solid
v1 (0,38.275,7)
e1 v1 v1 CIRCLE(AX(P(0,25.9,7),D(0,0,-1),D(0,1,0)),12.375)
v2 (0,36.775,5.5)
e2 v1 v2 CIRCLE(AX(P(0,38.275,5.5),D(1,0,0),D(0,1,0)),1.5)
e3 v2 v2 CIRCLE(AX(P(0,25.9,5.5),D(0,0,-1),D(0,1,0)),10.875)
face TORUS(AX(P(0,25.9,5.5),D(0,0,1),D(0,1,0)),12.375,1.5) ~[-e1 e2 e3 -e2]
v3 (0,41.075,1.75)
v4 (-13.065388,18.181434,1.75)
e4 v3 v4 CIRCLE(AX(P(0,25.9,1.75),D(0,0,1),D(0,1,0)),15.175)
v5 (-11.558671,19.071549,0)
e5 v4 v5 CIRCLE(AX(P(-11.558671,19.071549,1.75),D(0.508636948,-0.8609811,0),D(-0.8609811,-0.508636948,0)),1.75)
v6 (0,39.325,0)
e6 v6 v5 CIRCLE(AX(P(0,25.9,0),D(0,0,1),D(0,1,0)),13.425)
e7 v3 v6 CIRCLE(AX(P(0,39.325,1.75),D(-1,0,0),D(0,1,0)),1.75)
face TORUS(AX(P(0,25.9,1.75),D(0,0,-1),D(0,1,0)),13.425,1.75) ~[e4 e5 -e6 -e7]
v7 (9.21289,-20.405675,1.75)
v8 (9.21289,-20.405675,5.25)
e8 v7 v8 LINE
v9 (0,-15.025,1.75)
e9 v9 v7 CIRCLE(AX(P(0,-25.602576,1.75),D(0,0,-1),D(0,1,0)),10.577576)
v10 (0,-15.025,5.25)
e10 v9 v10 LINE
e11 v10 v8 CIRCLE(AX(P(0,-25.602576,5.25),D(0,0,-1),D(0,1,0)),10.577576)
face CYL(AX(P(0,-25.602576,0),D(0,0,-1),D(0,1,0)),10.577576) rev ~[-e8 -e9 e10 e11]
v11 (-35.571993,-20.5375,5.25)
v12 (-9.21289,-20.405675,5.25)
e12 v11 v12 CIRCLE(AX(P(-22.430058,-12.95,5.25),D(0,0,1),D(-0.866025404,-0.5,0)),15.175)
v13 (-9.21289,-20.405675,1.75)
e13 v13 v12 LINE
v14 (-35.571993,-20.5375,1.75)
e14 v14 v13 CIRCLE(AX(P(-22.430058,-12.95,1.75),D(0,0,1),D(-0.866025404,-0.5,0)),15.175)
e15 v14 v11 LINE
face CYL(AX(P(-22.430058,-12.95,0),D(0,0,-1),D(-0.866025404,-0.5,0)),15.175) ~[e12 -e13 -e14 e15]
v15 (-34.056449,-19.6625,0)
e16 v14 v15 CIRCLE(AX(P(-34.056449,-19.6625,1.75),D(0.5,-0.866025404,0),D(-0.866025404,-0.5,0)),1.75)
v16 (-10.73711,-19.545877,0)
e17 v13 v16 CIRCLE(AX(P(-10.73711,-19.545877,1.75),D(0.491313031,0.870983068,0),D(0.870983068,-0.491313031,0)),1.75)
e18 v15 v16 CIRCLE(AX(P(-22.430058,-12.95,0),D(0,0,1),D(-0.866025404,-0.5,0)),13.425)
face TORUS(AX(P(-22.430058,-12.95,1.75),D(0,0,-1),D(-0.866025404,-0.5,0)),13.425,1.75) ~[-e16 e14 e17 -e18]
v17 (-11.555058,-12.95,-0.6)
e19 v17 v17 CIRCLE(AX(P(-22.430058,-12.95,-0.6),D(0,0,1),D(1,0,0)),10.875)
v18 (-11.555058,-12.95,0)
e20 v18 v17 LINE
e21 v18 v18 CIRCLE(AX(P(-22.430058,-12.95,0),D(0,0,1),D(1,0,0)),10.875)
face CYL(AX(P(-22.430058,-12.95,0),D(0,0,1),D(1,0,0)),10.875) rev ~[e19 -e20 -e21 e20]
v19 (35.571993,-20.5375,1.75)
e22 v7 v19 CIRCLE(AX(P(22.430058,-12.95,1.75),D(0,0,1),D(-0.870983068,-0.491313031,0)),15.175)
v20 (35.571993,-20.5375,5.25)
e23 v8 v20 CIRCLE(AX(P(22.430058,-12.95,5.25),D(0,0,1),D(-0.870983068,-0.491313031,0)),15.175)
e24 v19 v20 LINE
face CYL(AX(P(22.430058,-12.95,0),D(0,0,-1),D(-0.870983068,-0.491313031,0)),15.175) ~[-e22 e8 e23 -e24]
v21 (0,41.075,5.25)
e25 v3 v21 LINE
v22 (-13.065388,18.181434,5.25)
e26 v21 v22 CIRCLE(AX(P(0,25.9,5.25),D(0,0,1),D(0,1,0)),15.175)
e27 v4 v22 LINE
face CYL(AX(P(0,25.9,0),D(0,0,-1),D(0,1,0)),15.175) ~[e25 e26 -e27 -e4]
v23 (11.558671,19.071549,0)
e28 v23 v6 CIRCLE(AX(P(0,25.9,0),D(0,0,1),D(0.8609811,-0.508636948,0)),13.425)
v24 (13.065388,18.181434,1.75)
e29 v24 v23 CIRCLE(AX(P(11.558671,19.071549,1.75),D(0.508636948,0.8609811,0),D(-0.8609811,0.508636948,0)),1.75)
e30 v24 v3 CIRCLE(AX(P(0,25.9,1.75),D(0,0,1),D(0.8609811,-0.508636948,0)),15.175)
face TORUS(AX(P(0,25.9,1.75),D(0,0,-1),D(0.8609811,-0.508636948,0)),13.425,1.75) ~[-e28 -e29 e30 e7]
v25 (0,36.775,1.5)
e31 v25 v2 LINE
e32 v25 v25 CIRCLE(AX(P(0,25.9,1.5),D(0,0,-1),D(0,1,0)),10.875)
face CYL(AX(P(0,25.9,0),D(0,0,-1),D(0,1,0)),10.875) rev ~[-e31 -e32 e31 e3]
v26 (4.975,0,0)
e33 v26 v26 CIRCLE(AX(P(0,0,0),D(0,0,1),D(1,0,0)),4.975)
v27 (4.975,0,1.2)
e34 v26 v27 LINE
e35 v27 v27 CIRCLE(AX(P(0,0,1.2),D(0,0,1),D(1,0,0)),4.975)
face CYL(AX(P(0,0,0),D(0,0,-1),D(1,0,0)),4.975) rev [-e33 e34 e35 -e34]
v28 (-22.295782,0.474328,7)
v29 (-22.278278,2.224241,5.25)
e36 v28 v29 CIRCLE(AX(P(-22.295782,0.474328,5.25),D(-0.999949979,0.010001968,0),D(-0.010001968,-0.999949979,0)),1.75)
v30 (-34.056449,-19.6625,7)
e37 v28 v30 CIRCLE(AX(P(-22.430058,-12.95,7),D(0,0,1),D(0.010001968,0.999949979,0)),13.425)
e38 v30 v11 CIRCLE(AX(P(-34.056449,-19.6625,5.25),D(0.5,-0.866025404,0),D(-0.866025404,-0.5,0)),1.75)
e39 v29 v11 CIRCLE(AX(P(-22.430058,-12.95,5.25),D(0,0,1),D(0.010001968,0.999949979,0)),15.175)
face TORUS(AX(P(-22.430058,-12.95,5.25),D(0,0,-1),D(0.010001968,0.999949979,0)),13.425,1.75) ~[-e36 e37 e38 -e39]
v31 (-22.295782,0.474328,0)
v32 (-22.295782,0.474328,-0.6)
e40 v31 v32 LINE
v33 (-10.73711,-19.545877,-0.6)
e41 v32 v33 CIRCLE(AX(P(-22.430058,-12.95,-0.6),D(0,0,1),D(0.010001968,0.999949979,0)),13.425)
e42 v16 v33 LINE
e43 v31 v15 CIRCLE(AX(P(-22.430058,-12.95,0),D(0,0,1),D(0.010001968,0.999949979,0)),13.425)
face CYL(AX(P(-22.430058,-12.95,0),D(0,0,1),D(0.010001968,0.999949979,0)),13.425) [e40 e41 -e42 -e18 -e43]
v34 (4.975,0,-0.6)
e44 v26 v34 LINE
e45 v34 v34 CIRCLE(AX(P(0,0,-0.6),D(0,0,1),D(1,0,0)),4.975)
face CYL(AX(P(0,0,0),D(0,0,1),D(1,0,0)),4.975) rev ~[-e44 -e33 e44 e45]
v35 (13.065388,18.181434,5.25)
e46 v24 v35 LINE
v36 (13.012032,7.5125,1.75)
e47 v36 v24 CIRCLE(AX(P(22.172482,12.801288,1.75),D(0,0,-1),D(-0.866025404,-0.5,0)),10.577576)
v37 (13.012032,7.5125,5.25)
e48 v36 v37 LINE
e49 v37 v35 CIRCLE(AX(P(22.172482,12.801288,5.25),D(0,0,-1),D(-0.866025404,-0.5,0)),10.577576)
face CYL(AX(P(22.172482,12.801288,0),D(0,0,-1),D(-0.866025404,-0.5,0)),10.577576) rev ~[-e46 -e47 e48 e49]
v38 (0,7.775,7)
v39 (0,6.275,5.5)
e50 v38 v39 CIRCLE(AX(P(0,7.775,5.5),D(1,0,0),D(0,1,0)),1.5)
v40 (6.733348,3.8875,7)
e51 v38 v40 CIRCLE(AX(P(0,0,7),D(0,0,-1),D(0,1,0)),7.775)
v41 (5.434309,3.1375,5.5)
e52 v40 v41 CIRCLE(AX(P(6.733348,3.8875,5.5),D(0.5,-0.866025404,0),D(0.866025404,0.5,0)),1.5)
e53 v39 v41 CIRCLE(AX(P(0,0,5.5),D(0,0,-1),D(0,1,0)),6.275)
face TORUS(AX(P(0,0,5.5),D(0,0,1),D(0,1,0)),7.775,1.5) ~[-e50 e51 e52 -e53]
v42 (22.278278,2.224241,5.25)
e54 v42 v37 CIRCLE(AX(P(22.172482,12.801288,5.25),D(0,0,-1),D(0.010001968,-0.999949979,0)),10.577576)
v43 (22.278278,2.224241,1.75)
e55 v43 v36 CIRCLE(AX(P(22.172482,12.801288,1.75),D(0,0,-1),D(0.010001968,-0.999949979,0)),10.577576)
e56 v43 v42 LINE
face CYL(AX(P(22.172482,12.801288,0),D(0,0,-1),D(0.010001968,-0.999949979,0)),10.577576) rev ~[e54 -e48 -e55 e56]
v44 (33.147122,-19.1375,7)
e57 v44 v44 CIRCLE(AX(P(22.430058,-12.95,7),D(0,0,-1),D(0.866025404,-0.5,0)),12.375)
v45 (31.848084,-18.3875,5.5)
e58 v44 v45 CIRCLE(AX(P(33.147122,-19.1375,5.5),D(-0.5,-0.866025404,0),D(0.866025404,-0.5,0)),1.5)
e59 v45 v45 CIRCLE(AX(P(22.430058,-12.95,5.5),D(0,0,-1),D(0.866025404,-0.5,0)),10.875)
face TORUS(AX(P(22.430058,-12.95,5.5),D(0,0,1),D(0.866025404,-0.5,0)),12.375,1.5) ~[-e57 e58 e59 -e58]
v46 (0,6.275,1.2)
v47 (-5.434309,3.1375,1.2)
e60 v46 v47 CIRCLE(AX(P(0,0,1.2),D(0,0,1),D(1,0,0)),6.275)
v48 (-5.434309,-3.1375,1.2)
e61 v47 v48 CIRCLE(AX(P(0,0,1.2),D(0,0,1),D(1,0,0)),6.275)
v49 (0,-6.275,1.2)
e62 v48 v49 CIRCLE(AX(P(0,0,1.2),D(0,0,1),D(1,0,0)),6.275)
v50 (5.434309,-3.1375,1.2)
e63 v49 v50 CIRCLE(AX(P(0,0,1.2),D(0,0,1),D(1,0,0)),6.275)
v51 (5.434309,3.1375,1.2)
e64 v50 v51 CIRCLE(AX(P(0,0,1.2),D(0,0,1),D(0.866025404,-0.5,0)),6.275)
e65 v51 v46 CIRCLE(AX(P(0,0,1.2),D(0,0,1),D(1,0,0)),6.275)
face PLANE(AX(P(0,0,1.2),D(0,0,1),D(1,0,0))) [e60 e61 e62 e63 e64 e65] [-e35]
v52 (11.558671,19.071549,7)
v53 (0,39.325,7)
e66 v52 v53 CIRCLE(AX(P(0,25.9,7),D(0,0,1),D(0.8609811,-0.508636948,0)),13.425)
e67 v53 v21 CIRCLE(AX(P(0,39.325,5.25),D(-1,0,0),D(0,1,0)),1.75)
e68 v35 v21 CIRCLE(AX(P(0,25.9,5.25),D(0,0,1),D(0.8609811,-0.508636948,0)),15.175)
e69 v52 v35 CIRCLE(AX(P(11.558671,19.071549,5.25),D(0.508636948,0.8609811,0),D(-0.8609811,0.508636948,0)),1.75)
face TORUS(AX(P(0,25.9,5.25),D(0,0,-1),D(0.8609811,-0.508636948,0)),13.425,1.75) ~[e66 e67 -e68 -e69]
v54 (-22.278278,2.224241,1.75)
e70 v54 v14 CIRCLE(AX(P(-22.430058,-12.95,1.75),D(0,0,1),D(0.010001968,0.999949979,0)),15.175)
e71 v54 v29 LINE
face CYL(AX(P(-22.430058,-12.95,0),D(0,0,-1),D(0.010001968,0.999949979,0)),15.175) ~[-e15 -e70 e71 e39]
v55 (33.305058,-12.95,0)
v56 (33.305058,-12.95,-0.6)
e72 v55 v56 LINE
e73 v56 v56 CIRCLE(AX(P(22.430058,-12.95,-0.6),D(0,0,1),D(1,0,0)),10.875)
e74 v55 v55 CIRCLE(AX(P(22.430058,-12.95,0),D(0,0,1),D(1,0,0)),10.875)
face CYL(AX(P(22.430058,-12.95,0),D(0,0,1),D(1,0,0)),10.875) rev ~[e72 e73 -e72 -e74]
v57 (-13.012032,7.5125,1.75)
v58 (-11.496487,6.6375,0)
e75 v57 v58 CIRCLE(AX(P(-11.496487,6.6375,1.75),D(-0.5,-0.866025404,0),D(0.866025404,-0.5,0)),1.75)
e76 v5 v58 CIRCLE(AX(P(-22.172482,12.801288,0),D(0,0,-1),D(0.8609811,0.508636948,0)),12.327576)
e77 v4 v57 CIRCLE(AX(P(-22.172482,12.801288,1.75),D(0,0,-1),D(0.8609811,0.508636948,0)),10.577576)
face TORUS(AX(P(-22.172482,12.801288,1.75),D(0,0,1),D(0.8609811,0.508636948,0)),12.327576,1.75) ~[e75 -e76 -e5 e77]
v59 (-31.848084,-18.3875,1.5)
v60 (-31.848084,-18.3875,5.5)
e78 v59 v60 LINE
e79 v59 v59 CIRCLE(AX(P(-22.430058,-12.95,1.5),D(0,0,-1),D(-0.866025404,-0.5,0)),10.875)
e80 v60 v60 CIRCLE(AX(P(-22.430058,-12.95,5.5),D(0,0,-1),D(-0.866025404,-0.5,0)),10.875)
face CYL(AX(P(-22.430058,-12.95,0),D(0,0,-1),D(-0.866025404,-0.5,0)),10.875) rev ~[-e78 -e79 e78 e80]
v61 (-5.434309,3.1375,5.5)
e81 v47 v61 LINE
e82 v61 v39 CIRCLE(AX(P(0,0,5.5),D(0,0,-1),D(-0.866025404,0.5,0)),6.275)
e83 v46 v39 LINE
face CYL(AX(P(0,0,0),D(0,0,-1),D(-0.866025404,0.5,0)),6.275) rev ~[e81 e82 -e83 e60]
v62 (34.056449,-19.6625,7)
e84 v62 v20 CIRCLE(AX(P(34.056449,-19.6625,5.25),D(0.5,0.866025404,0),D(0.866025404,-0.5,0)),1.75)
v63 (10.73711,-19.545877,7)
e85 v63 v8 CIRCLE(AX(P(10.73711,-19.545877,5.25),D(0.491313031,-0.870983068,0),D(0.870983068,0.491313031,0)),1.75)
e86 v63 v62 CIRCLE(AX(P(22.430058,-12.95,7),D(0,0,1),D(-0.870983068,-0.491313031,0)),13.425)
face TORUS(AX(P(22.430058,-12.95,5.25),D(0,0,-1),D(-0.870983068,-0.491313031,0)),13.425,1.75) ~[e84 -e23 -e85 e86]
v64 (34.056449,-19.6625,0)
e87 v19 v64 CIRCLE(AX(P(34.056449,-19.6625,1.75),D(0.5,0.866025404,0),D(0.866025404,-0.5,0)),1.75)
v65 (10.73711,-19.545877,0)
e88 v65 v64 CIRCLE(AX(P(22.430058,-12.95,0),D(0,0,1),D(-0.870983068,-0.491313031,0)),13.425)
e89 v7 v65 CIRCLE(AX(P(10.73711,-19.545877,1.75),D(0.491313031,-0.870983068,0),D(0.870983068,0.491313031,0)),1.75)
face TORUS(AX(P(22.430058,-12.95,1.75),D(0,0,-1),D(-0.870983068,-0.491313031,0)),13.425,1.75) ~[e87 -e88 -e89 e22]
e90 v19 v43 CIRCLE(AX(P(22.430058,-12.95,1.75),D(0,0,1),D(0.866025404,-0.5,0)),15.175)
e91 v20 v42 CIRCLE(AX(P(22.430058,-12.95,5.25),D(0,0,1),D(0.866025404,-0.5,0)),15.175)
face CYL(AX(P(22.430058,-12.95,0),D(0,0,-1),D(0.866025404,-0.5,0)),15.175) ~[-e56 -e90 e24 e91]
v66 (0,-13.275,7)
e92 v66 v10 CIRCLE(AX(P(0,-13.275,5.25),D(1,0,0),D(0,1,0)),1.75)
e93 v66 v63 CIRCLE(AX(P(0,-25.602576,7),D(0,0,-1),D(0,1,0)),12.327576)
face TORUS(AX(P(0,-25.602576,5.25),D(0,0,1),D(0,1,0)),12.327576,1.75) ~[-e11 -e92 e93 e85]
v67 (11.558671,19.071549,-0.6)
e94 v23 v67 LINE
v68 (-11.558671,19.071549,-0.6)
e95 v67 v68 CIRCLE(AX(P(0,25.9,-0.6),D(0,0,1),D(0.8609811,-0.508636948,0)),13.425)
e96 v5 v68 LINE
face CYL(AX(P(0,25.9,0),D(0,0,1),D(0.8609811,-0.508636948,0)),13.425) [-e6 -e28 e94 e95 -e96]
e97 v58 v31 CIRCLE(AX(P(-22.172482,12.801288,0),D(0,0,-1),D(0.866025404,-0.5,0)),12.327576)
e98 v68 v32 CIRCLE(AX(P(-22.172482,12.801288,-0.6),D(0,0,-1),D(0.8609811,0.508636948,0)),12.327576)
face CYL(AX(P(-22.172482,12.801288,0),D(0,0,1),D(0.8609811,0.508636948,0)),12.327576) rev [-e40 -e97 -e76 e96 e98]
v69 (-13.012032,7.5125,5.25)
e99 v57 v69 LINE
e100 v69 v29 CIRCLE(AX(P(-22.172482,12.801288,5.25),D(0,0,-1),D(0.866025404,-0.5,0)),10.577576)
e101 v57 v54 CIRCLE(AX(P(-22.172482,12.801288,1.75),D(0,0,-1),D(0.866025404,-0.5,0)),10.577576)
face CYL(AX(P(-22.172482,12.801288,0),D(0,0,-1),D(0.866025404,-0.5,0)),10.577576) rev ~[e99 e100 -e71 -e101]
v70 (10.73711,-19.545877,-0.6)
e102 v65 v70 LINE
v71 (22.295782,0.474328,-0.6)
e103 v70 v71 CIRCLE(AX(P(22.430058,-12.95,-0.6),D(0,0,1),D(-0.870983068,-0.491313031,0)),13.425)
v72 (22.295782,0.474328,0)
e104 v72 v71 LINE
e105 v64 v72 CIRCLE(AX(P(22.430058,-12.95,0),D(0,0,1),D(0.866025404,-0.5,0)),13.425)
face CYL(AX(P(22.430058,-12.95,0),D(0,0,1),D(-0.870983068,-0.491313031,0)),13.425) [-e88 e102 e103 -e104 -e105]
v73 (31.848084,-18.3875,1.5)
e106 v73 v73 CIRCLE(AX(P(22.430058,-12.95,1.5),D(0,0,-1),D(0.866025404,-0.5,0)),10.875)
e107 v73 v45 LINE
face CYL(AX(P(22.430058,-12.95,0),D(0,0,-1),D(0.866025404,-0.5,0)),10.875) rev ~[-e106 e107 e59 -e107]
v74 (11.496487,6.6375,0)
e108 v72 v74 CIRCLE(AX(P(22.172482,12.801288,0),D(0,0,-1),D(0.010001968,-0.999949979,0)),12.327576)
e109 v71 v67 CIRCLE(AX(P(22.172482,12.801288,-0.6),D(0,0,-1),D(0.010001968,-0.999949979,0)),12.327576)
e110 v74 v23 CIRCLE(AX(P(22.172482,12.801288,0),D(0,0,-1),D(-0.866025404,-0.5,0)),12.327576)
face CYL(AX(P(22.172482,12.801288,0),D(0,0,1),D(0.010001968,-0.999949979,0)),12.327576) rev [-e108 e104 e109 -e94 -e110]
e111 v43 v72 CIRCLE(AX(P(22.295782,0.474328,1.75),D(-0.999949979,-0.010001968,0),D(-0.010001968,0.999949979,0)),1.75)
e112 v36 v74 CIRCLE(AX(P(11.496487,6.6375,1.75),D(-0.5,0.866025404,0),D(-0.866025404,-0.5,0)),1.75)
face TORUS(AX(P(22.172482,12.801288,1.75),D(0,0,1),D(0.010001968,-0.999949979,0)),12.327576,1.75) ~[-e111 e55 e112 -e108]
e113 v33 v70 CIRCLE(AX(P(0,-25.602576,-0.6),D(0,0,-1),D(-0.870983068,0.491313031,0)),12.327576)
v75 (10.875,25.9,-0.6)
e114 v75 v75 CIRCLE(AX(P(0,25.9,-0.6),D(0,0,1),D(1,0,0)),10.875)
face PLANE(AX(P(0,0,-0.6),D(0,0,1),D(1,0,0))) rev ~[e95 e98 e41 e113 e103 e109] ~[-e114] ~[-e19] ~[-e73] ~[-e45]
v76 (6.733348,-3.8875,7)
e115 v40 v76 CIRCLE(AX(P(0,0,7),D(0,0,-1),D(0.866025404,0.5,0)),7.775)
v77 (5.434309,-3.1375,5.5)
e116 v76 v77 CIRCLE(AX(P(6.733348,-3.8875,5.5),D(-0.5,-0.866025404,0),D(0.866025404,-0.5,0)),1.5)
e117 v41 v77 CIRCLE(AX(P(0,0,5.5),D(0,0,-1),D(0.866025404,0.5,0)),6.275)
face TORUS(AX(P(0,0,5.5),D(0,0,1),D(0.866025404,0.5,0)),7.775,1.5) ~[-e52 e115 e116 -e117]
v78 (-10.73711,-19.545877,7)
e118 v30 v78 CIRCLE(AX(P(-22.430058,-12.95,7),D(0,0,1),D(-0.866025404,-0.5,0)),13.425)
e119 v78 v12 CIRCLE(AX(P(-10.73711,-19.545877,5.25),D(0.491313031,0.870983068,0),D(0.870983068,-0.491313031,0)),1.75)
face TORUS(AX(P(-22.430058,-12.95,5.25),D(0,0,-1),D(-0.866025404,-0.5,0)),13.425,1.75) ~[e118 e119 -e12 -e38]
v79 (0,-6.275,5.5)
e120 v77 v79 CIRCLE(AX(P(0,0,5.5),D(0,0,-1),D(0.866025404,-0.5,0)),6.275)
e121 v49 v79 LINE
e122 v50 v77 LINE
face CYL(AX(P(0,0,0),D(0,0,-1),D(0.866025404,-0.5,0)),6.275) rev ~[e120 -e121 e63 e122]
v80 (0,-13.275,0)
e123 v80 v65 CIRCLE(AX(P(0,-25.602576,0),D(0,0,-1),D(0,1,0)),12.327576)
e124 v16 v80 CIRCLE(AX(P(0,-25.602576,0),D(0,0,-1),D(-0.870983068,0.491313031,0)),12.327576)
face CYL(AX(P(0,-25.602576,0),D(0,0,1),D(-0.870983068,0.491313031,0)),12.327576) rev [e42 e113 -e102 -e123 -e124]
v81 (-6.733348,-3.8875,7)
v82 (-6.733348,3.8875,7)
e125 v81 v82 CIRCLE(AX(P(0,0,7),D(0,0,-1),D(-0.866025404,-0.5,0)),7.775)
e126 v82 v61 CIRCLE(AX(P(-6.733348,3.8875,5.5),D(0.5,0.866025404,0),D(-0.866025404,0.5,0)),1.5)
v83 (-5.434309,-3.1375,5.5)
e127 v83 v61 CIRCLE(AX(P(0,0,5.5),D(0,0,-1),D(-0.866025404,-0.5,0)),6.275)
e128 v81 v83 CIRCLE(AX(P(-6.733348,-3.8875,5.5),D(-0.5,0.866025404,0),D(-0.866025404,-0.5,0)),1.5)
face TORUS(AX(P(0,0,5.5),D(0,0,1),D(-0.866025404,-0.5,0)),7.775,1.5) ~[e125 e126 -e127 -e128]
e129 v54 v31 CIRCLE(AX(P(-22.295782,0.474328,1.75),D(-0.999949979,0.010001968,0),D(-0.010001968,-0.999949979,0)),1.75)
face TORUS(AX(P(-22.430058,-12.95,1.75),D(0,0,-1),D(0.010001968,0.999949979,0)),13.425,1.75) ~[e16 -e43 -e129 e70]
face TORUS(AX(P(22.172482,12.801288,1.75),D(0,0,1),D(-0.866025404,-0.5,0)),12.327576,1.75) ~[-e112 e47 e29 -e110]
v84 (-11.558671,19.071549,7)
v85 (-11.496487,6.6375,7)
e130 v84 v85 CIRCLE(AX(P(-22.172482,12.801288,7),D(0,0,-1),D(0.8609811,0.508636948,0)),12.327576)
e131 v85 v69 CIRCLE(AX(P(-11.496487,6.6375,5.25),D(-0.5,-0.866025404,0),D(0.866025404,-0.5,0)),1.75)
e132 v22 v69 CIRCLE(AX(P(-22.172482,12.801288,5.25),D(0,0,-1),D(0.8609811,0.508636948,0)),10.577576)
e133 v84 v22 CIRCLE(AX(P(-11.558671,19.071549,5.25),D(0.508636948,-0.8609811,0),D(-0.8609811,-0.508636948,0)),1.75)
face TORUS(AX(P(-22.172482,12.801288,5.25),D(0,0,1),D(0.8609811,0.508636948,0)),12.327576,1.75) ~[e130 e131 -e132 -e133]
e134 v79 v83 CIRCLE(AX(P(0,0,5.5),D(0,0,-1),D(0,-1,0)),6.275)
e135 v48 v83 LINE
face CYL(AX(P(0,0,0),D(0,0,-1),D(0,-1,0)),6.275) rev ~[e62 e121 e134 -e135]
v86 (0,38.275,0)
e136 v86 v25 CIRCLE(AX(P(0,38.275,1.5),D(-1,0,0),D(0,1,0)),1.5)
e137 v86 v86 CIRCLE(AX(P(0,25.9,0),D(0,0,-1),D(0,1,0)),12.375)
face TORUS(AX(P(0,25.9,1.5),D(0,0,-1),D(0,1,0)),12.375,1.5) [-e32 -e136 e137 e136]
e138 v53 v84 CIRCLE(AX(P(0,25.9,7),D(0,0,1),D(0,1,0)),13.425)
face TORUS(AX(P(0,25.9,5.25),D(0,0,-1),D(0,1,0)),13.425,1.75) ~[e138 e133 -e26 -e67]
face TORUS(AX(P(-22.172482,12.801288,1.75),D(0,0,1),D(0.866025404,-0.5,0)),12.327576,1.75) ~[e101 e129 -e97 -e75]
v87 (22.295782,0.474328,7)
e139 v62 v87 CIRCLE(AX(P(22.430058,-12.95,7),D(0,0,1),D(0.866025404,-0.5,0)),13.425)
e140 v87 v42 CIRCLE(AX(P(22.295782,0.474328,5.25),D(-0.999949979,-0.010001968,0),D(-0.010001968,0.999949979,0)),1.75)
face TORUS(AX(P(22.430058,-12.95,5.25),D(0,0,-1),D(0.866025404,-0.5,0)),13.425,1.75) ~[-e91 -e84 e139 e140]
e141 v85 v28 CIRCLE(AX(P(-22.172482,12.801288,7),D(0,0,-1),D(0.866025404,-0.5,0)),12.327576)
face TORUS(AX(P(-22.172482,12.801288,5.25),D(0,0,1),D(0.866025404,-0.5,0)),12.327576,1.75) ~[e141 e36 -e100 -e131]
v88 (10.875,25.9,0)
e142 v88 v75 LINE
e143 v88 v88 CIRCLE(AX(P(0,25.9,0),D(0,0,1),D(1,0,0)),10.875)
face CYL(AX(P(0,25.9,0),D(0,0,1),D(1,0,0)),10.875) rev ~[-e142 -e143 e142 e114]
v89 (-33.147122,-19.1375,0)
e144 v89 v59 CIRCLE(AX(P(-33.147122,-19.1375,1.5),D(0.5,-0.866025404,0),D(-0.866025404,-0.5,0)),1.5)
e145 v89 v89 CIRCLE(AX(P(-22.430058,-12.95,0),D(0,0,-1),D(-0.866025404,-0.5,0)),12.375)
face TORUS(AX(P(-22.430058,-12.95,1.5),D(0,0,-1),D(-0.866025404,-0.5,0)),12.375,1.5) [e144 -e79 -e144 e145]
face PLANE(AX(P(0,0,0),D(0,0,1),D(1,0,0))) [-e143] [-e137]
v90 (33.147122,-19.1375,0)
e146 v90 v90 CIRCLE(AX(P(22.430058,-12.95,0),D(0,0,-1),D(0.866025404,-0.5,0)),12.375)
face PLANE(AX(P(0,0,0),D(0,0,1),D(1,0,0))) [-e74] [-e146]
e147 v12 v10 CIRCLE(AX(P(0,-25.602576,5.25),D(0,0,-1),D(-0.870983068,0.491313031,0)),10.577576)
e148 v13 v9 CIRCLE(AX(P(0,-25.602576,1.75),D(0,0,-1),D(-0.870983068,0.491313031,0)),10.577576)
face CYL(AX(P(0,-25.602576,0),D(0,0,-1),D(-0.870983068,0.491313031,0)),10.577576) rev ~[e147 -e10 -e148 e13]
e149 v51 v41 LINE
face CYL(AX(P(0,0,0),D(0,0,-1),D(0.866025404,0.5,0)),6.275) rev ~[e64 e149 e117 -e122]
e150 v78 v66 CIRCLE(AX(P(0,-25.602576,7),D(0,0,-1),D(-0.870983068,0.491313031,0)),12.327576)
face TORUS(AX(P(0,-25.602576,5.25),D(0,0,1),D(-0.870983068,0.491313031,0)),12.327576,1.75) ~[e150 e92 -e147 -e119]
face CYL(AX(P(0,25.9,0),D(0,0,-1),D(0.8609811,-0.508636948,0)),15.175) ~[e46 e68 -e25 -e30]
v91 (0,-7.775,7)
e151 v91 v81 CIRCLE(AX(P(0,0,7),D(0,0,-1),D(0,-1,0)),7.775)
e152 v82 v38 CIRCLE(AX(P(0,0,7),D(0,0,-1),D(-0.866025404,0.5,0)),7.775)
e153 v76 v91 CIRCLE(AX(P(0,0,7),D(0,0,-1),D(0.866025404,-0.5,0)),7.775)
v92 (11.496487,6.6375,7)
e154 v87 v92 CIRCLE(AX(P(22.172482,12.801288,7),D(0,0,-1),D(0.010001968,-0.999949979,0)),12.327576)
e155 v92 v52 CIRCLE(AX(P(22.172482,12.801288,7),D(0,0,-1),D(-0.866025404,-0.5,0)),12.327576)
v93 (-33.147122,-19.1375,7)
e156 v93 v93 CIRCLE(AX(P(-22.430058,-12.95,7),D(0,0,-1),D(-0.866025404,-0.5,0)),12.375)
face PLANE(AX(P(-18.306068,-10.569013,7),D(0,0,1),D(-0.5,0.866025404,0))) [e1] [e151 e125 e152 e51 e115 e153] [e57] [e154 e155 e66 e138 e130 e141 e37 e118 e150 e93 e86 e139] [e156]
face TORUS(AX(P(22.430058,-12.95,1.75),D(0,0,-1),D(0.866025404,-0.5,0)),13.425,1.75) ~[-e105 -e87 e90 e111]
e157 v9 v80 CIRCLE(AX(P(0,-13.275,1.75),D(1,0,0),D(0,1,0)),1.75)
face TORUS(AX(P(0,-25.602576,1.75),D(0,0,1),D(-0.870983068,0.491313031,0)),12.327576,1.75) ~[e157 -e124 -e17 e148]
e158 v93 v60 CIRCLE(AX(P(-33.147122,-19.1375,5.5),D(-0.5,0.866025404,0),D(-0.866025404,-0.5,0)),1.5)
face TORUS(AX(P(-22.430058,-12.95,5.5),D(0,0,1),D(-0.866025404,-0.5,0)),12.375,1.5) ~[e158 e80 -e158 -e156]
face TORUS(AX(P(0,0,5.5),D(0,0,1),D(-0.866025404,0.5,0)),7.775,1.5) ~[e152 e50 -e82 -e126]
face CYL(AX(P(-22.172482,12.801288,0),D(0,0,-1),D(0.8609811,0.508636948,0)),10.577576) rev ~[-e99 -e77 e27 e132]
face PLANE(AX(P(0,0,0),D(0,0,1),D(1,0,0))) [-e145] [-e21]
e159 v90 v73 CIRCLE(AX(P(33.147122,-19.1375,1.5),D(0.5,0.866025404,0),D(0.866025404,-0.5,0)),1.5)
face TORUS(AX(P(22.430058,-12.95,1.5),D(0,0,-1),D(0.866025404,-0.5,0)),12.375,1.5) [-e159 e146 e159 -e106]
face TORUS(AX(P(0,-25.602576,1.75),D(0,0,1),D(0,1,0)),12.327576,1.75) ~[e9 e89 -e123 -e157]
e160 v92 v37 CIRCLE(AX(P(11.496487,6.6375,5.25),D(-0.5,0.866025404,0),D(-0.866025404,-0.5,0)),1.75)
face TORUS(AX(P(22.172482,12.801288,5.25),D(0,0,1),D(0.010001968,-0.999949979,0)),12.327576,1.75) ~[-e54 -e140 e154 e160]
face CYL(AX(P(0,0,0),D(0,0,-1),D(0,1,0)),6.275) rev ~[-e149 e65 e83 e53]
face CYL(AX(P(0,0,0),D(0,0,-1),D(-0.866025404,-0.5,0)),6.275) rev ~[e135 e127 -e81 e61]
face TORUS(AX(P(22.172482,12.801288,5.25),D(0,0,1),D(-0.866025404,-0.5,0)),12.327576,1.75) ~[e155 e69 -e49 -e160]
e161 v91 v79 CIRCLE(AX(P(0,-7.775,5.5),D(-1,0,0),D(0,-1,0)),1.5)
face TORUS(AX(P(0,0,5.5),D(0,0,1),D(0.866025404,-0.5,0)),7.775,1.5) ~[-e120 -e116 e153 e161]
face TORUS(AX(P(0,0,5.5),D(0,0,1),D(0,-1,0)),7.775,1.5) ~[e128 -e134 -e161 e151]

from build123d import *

# Parameters (mm, degrees)
F2_DEPTH  = 7
F4_COUNT  = 3
F5_R      = 6.275
F5_R_2    = 4.975
F6_DEPTH  = 1.2
F7_R      = 1.75
F8_R      = 1.75
F9_R      = 1.5
F10_R     = 10.875
F10_R_2   = 4.975
F11_DEPTH = 0.6


with BuildPart() as f2:
    # F1 (on Top) → F2 (new body)
    with BuildSketch(Plane.XY):
        with BuildLine():
            ThreePointArc((13.065388197, 18.1814343132), (13.1797165997, 33.4216816838), (0, 41.075))
            ThreePointArc((0, 41.075), (-13.1797165997, 33.4216816838), (-13.065388197, 18.1814343132))
            ThreePointArc((-13.065388197, 18.1814343132), (-11.5950374492, 12.8541871204), (-13.0120316919, 7.5125))
            Line((-13.0120316919, 7.5125), (-5.4343094087, 3.1375))
            ThreePointArc((-5.4343094087, 3.1375), (-3.1375, 5.4343094087), (0, 6.275))
            ThreePointArc((0, 6.275), (3.1375, 5.4343094087), (5.4343094087, 3.1375))
            Line((5.4343094087, 3.1375), (13.0120316919, 7.5125))
            ThreePointArc((13.0120316919, 7.5125), (11.5950374492, 12.8541871204), (13.065388197, 18.1814343132))
        make_face()
        with BuildLine():
            ThreePointArc((0, 15.025), (-10.875, 25.9), (0, 36.775))
            ThreePointArc((0, 36.775), (10.875, 25.9), (0, 15.025))
        make_face(mode=Mode.SUBTRACT)
    extrude(amount=F2_DEPTH)

    # F4: F2 ×3 about axis
    f4_axis = Axis((0, 0, -21.1250233245), (0, 0, -1))


with BuildPart() as f2_1:
    add(f2.part)
    for i in range(1, F4_COUNT):
        add(f2.part.rotate(f4_axis, i * 360 / F4_COUNT))

    # F5 (on Top) → F6 (join)
    with BuildSketch(Plane.XY):
        Circle(F5_R)
        Circle(F5_R_2, mode=Mode.SUBTRACT)
    extrude(amount=F6_DEPTH)

    # F7
    f7_edges = [f2_1.edges().sort_by_distance(p)[0] for p in [
        (-35.571993, -20.5375, 0),
    ]]
    fillet(f7_edges, radius=F7_R)

    # F8
    f8_edges = [f2_1.edges().sort_by_distance(p)[0] for p in [
        (-35.571993, -20.5375, 7),
    ]]
    fillet(f8_edges, radius=F8_R)

    # F9
    f9_edges = [f2_1.edges().sort_by_distance(p)[0] for p in [
        (-31.848084, -18.3875, 7),
        (0, 36.775, 7),
        (31.848084, -18.3875, 7),
        (-31.848084, -18.3875, 0),
        (31.848084, -18.3875, 0),
        (0, 36.775, 0),
        (0, 6.275, 7),
    ]]
    fillet(f9_edges, radius=F9_R)

    # F10 (on Top) → F11 (join)
    with BuildSketch(Plane.XY):
        with BuildLine():
            ThreePointArc((11.5586712715, 19.0715489723), (0, 39.325), (-11.5586712715, 19.0715489723))
            ThreePointArc((-11.5586712715, 19.0715489723), (-11.4964872352, 6.6375), (-22.2957815353, 0.474328469))
            ThreePointArc((-22.2957815353, 0.474328469), (-34.0564490038, -19.6625), (-10.7371102638, -19.5458774413))
            ThreePointArc((-10.7371102638, -19.5458774413), (0, -13.275), (10.7371102638, -19.5458774413))
            ThreePointArc((10.7371102638, -19.5458774413), (34.0564490038, -19.6625), (22.2957815353, 0.474328469))
            ThreePointArc((22.2957815353, 0.474328469), (11.4964872352, 6.6375), (11.5586712715, 19.0715489723))
        make_face()
        with Locations((-22.430057958, -12.95)):
            Circle(F10_R, mode=Mode.SUBTRACT)
        Circle(F10_R_2, mode=Mode.SUBTRACT)
        with Locations((22.430057958, -12.95)):
            Circle(F10_R, mode=Mode.SUBTRACT)
        with Locations((0, 25.9)):
            Circle(F10_R, mode=Mode.SUBTRACT)
    extrude(amount=-F11_DEPTH)


solid = f2_1.part
